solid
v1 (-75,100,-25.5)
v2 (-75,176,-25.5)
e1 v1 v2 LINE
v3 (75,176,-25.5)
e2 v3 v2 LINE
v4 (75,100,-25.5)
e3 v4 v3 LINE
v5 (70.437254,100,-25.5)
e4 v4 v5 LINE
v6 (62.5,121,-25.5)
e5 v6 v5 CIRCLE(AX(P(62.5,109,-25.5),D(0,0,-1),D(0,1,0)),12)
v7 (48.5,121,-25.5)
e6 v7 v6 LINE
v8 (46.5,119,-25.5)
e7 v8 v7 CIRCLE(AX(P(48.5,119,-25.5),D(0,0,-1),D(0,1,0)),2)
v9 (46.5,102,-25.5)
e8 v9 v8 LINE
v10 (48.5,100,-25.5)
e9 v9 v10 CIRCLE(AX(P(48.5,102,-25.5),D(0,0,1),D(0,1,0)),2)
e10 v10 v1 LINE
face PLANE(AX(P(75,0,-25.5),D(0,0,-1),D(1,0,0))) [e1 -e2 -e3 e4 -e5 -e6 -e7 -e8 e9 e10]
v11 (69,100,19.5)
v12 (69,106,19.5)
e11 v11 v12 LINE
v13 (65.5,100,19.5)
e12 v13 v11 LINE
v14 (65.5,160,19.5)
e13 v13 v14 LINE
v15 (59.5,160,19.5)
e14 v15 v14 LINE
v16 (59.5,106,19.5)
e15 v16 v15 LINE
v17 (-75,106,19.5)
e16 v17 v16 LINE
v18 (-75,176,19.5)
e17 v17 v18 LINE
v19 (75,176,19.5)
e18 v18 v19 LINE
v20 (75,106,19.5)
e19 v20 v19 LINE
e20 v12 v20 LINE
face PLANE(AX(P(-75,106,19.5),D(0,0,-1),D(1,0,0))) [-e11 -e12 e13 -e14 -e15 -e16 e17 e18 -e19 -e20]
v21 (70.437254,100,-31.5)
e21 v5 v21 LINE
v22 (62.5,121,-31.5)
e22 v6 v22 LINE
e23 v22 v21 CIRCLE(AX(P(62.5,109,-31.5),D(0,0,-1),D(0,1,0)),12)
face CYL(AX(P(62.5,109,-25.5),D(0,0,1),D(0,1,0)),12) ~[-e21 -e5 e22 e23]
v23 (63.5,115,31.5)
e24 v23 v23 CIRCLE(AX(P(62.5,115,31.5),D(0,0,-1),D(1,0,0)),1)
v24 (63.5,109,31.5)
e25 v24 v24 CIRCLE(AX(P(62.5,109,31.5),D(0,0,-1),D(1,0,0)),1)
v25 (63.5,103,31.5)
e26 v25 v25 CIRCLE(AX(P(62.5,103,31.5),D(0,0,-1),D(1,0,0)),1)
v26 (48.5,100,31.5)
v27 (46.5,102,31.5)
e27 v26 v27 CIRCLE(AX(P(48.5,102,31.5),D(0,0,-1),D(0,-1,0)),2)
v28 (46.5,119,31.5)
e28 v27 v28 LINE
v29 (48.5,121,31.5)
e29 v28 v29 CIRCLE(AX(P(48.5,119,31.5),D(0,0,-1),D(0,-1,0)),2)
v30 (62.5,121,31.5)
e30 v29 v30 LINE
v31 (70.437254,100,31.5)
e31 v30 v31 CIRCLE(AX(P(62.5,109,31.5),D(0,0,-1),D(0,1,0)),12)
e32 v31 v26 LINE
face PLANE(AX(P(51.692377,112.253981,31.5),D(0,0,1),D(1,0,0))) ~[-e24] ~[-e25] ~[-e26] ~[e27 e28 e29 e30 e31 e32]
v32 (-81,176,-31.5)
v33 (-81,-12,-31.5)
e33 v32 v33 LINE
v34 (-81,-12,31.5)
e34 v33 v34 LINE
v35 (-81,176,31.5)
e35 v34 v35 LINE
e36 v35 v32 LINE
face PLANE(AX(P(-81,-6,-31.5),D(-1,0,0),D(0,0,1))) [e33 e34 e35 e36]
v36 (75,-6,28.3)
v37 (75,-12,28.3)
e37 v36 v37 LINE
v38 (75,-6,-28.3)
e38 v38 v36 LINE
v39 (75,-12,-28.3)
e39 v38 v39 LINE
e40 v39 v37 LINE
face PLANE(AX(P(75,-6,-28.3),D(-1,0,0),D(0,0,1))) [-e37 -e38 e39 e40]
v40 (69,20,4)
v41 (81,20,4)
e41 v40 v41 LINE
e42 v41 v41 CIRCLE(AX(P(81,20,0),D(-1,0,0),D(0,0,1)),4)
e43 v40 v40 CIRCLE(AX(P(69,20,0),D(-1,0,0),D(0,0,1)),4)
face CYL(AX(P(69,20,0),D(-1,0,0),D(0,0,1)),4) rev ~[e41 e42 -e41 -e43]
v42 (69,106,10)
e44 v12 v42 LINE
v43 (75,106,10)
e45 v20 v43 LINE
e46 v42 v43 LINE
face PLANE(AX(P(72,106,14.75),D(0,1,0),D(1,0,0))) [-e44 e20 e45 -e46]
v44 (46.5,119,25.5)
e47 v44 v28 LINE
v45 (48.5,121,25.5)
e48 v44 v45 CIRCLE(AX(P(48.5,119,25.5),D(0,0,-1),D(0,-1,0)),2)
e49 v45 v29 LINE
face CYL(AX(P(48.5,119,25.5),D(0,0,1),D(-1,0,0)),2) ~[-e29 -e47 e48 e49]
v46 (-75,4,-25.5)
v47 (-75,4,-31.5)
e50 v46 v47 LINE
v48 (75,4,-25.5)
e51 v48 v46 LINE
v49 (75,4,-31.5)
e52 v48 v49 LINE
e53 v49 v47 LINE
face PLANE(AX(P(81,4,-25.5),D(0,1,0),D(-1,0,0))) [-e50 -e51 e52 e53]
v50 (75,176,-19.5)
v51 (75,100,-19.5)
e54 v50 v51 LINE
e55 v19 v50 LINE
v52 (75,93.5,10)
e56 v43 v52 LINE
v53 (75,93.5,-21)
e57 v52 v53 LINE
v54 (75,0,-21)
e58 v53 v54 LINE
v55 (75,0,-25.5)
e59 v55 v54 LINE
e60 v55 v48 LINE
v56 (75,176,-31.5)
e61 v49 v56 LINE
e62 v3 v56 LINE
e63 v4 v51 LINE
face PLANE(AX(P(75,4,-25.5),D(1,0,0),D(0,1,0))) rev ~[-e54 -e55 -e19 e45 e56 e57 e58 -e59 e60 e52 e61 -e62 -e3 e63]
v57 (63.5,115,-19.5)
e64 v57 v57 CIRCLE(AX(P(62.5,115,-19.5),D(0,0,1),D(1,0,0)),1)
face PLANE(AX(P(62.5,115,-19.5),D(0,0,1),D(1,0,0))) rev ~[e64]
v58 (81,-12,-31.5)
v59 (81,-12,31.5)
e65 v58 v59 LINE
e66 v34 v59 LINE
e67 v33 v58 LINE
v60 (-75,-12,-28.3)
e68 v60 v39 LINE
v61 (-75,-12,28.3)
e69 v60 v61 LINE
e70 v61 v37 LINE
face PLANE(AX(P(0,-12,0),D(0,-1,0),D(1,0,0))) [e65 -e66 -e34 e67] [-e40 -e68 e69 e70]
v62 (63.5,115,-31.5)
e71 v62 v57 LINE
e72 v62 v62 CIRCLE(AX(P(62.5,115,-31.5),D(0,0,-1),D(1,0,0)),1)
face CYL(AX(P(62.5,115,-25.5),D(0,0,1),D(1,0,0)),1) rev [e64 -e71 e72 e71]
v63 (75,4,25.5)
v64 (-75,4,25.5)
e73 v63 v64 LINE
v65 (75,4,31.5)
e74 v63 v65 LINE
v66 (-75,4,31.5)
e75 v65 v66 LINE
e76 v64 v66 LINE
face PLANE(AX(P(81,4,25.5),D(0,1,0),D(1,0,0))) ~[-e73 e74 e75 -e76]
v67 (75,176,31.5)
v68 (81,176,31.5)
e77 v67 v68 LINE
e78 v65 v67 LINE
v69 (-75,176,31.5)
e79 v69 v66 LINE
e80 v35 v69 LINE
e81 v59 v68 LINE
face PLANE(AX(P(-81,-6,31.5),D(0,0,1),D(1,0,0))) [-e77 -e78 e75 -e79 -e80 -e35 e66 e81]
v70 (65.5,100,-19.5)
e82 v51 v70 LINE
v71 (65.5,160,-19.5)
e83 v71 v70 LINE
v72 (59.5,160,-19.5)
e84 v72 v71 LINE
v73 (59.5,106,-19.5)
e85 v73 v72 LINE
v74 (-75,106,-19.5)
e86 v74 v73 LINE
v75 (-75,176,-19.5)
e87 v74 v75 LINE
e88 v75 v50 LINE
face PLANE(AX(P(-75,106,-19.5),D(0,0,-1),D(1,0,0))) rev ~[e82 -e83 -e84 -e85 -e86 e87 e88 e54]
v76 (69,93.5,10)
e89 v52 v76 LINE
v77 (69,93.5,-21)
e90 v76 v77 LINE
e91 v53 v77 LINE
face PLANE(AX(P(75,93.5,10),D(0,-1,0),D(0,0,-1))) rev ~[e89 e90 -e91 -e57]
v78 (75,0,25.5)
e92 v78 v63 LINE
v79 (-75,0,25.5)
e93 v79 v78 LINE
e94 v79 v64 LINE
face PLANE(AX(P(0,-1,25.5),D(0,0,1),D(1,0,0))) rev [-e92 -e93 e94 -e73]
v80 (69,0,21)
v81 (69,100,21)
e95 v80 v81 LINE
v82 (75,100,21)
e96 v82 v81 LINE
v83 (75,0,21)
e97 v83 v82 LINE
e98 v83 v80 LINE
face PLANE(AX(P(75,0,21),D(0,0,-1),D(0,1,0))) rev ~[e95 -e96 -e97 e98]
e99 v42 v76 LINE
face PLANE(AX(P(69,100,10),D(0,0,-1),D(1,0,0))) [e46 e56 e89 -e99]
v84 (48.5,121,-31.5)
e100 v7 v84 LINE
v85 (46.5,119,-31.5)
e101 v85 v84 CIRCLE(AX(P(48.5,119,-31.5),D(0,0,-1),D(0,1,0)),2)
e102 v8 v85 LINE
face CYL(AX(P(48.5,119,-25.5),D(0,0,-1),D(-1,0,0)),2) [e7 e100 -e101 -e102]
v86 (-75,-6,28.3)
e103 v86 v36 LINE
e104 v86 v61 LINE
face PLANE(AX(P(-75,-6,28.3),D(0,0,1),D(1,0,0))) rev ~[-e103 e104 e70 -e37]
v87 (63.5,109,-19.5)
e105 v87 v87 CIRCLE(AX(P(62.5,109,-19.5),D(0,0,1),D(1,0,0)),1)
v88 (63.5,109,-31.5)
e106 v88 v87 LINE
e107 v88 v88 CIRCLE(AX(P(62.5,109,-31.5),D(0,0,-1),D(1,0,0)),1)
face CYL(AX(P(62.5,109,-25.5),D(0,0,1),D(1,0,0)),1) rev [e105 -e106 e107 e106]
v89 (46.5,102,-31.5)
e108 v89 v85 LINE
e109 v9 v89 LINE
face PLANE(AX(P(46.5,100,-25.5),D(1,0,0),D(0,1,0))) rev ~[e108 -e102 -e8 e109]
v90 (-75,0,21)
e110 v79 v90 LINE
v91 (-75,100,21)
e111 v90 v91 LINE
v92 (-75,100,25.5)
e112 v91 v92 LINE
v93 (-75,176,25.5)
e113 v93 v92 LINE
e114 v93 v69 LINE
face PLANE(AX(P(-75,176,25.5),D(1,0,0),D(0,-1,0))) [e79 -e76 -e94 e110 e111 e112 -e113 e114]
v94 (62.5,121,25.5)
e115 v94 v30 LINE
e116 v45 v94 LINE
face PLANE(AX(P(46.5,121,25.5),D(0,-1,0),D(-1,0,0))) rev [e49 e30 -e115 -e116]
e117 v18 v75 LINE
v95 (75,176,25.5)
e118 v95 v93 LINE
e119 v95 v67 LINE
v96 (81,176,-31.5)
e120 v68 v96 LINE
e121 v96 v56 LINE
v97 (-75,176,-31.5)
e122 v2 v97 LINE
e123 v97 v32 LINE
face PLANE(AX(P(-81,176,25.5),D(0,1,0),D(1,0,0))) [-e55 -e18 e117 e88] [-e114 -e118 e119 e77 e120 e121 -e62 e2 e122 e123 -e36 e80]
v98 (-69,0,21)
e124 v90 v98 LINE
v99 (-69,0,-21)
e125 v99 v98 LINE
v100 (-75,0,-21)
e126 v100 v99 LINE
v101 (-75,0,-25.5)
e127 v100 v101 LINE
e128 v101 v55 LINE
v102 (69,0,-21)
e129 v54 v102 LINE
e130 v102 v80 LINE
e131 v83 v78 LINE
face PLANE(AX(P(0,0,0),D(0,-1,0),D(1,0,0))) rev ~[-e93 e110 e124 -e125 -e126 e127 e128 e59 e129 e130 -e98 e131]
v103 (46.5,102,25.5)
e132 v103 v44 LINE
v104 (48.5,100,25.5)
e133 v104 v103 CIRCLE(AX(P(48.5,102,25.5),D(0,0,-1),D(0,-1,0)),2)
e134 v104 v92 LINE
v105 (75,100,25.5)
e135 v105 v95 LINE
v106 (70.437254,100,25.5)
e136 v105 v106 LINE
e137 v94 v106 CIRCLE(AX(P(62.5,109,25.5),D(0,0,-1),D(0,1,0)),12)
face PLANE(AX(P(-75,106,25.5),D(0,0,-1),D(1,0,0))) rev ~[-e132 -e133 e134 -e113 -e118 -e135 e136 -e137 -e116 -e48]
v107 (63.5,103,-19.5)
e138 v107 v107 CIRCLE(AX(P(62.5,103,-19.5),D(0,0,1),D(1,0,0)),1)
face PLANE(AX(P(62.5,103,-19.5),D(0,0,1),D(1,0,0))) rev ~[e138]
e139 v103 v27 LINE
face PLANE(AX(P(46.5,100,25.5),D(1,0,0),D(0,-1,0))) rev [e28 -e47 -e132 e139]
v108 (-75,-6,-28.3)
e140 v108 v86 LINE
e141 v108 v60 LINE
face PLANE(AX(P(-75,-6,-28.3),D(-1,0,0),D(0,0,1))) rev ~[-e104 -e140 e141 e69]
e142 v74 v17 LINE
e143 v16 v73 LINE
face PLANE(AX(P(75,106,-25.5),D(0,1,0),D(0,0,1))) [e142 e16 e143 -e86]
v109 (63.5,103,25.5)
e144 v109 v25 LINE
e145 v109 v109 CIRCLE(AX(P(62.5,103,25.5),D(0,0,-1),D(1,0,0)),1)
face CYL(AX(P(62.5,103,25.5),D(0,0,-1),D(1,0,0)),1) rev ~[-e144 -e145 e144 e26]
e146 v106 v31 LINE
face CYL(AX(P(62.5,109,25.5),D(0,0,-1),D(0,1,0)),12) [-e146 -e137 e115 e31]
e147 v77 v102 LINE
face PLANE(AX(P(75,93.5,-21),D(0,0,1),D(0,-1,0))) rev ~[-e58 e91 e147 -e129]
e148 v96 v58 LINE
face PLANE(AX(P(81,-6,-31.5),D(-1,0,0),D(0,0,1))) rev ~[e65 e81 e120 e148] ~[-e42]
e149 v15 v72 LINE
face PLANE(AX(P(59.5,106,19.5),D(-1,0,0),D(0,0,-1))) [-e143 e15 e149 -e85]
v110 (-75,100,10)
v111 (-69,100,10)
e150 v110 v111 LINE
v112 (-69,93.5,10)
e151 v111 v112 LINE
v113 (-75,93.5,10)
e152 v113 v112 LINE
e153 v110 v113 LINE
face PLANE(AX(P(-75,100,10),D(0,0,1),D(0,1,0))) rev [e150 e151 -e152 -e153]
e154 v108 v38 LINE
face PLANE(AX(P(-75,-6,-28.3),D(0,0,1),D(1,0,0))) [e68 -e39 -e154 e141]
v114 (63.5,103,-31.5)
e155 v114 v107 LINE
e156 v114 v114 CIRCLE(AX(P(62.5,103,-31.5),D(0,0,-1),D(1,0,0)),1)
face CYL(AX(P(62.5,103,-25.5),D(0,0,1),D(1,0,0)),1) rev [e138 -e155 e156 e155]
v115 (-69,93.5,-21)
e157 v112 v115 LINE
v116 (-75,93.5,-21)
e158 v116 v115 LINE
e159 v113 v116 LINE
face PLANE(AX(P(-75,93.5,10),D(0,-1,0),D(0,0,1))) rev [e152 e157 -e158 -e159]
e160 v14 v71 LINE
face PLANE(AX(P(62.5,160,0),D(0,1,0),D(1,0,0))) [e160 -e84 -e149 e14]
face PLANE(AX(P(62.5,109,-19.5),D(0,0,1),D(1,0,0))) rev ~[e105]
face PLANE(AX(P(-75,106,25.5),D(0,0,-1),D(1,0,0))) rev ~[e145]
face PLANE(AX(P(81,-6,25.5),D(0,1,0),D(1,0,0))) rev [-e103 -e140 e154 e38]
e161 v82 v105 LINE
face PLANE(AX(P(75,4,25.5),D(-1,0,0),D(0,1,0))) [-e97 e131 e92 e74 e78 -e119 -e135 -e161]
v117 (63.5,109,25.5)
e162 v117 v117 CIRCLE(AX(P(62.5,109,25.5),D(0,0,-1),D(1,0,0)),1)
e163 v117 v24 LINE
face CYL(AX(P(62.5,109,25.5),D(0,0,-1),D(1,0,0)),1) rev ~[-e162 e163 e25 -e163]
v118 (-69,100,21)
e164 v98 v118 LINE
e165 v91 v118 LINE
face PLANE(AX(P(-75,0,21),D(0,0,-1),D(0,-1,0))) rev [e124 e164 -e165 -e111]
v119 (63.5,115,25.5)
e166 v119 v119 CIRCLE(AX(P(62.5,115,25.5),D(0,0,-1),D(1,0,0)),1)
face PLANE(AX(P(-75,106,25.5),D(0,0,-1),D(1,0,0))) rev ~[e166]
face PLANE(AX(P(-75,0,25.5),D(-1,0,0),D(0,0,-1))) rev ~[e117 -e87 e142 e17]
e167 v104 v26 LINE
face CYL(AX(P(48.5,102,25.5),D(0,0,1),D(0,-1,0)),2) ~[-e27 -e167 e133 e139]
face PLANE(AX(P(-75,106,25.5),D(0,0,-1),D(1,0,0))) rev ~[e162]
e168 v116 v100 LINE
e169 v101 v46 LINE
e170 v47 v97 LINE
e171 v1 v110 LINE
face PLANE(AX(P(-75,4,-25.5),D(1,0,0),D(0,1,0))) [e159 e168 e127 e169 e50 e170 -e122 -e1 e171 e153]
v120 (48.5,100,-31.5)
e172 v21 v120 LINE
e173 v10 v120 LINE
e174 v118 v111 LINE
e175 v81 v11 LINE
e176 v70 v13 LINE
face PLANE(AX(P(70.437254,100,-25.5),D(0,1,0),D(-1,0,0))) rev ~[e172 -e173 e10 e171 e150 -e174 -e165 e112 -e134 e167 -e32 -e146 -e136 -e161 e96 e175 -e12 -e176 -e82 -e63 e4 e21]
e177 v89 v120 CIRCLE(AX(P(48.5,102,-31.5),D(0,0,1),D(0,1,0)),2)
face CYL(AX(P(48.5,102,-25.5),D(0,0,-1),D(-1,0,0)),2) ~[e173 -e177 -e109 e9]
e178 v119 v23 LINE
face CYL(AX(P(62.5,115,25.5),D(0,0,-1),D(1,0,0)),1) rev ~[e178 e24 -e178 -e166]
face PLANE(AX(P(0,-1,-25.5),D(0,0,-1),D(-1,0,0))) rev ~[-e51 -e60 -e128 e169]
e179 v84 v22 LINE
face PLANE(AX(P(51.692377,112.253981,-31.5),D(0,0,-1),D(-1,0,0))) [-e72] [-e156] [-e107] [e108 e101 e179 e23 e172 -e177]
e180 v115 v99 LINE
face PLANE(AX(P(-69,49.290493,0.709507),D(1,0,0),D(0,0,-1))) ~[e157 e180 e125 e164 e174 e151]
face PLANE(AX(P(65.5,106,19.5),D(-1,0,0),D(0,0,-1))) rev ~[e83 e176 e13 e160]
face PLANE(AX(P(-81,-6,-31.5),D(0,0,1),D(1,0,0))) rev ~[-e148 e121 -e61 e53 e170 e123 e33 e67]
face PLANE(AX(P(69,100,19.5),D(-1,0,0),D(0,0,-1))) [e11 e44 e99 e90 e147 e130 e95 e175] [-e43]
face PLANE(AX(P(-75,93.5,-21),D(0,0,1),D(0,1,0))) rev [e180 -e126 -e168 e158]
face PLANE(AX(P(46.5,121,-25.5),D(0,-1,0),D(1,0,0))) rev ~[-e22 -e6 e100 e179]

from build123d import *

# Parameters (mm, degrees)
SKETCH1_W            = 150
SKETCH1_H            = 42
BOSS_EXTRUDE1_DEPTH  = 3.2
SKETCH2_W            = 162
SKETCH2_H            = 51
BOSS_EXTRUDE2_DEPTH  = 6
SKETCH3_W            = 6
SKETCH3_H            = 51
BOSS_EXTRUDE3_DEPTH  = 176
BOSS_EXTRUDE4_REACH  = 238.563
SKETCH5_W            = 51
SKETCH5_H            = 6
BOSS_EXTRUDE5_START  = 100
SKETCH1_2_W          = 150
SKETCH1_2_H          = 42
BOSS_EXTRUDE5_DEPTH  = 3.2
SKETCH6_W            = 150
SKETCH6_H            = 6
BOSS_EXTRUDE6_DEPTH  = 70
CUT_EXTRUDE1_REACH   = 142.553
SKETCH7_W            = 9.5
SKETCH7_H            = 39
SKETCH7_R            = 2.75
SKETCH7_3_W          = 6
SKETCH7_3_H          = 39
BOSS_EXTRUDE7_DEPTH  = 54
SKETCH8_W            = 162
SKETCH8_H            = 10
BOSS_EXTRUDE8_DEPTH  = 6
SKETCH9_W            = 150
SKETCH9_H            = 42
CUT_EXTRUDE2_DEPTH   = 3.2
CUT_EXTRUDE3_DEPTH   = 3.2
BOSS_EXTRUDE9_DEPTH  = 6
SKETCH12_W           = 6
SKETCH12_H           = 9.5
BOSS_EXTRUDE10_DEPTH = 6
CUT_EXTRUDE4_REACH   = 235.384
SKETCH13_R           = 4
CUT_EXTRUDE5_REACH   = 202.345
SKETCH14_R           = 1
SKETCH16_W           = 6
SKETCH16_H           = 172
BOSS_EXTRUDE11_DEPTH = 6
BOSS_EXTRUDE15_START = -51
BOSS_EXTRUDE15_DEPTH = 6
SKETCH17_W           = 162
SKETCH17_H           = 63
SKETCH17_W_2         = 150
SKETCH17_H_2         = 56.6
BOSS_EXTRUDE12_DEPTH = 6
SKETCH15_R           = 1
BOSS_EXTRUDE14_DEPTH = 6
FILLET1_R            = 2
FILLET1_OF_MIRROR4_R = 2


with BuildPart() as part:
    # Sketch1 → Boss-Extrude1 (new body)
    with BuildSketch(Plane(origin=(0, 0, 0), x_dir=(1, 0, 0), z_dir=(0, 1, 0))):
        Rectangle(SKETCH1_W, SKETCH1_H)
    extrude(amount=BOSS_EXTRUDE1_DEPTH)

    # Sketch2 → Boss-Extrude2 (add)
    with BuildSketch(Plane.XZ):
        Rectangle(SKETCH2_W, SKETCH2_H)
    extrude(amount=BOSS_EXTRUDE2_DEPTH)

    # Sketch3 → Boss-Extrude3 (add)
    with BuildSketch(Plane(origin=(0, 0, 0), x_dir=(1, 0, 0), z_dir=(0, 1, 0))):
        with Locations((78, 0)):
            Rectangle(SKETCH3_W, SKETCH3_H)
        with Locations((-78, 0)):
            Rectangle(SKETCH3_W, SKETCH3_H)
    extrude(amount=BOSS_EXTRUDE3_DEPTH)

    # Sketch5 → Boss-Extrude4 (add, up to next)
    with BuildSketch(Plane.ZY.offset(-75), mode=Mode.PRIVATE) as boss_extrude4_sk1:
        with Locations((0, 103)):
            Rectangle(SKETCH5_W, SKETCH5_H)
    boss_extrude4_tool1 = extrude(boss_extrude4_sk1.sketch, amount=BOSS_EXTRUDE4_REACH, mode=Mode.PRIVATE) - part.part
    add(boss_extrude4_tool1.solids().sort_by_distance((75, 103, 0))[0])

    # Sketch1<2> → Boss-Extrude5 (add)
    with BuildSketch(Plane(origin=(0, 0, 0), x_dir=(1, 0, 0), z_dir=(0, 1, 0)).offset(BOSS_EXTRUDE5_START)):
        Rectangle(SKETCH1_2_W, SKETCH1_2_H)
    extrude(amount=-BOSS_EXTRUDE5_DEPTH)

    # Sketch6 → Boss-Extrude6 (add)
    with BuildSketch(Plane(origin=(0, 106, 0), x_dir=(1, 0, 0), z_dir=(0, 1, 0))):
        with Locations((0, -22.5)):
            Rectangle(SKETCH6_W, SKETCH6_H)
        with Locations((0, 22.5)):
            Rectangle(SKETCH6_W, SKETCH6_H)
    extrude(amount=BOSS_EXTRUDE6_DEPTH)

    # Sketch7 → Cut-Extrude1 (cut, up to next)
    with BuildSketch(Plane(origin=(0, 106, 0), x_dir=(1, 0, 0), z_dir=(0, 1, 0)), mode=Mode.PRIVATE) as cut_extrude1_sk1:
        with Locations((70.25, 0)):
            Rectangle(SKETCH7_W, SKETCH7_H)
        with Locations((70.25, -14.75)):
            Circle(SKETCH7_R, mode=Mode.SUBTRACT)
        with Locations((70.25, 14.75)):
            Circle(SKETCH7_R, mode=Mode.SUBTRACT)
    cut_extrude1_tool1 = extrude(cut_extrude1_sk1.sketch, amount=-CUT_EXTRUDE1_REACH, mode=Mode.PRIVATE) & part.part
    # Sketch7 → Cut-Extrude1 (cut, up to next)
    with BuildSketch(Plane(origin=(0, 106, 0), x_dir=(1, 0, 0), z_dir=(0, 1, 0)), mode=Mode.PRIVATE) as cut_extrude1_sk2:
        with Locations((70.25, -14.75)):
            Circle(SKETCH7_R)
    cut_extrude1_tool2 = extrude(cut_extrude1_sk2.sketch, amount=-CUT_EXTRUDE1_REACH, mode=Mode.PRIVATE) & part.part
    # Sketch7 → Cut-Extrude1 (cut, up to next)
    with BuildSketch(Plane(origin=(0, 106, 0), x_dir=(1, 0, 0), z_dir=(0, 1, 0)), mode=Mode.PRIVATE) as cut_extrude1_sk3:
        with Locations((70.25, 14.75)):
            Circle(SKETCH7_R)
    cut_extrude1_tool3 = extrude(cut_extrude1_sk3.sketch, amount=-CUT_EXTRUDE1_REACH, mode=Mode.PRIVATE) & part.part
    add(cut_extrude1_tool1.solids().sort_by_distance((70.25, 106, 0))[0], mode=Mode.SUBTRACT)
    add(cut_extrude1_tool2.solids().sort_by_distance((70.25, 106, 14.75))[0], mode=Mode.SUBTRACT)
    add(cut_extrude1_tool3.solids().sort_by_distance((70.25, 106, -14.75))[0], mode=Mode.SUBTRACT)

    # Sketch7<3> → Boss-Extrude7 (add)
    with BuildSketch(Plane(origin=(0, 106, 0), x_dir=(1, 0, 0), z_dir=(0, 1, 0))):
        with Locations((62.5, 0)):
            Rectangle(SKETCH7_3_W, SKETCH7_3_H)
    extrude(amount=BOSS_EXTRUDE7_DEPTH)

    # Sketch8 → Boss-Extrude8 (add)
    with BuildSketch(Plane(origin=(0, 0, -25.5), x_dir=(-1, 0, 0), z_dir=(0, 0, -1))):
        with Locations((0, -1)):
            Rectangle(SKETCH8_W, SKETCH8_H)
    boss_extrude8 = extrude(amount=BOSS_EXTRUDE8_DEPTH)

    # Mirror1: Boss-Extrude8 across plane
    add(boss_extrude8.mirror(Plane.XY))

    # Sketch9 → Cut-Extrude2 (cut)
    with BuildSketch(Plane(origin=(0, 3.2, 0), x_dir=(1, 0, 0), z_dir=(0, 1, 0))):
        Rectangle(SKETCH9_W, SKETCH9_H)
    extrude(amount=-CUT_EXTRUDE2_DEPTH, mode=Mode.SUBTRACT)

    # Sketch10 → Cut-Extrude3 (cut)
    with BuildSketch(Plane.XZ.offset(-96.8)):
        Polygon((-75, -21), (75, -21), (75, -19.5), (65.5, -19.5), (65.5, 19.5), (75, 19.5), (75, 21), (-75, 21), align=None)
    extrude(amount=-CUT_EXTRUDE3_DEPTH, mode=Mode.SUBTRACT)

    # Sketch11 → Boss-Extrude9 (add)
    with BuildSketch(Plane.ZY.offset(-75)):
        Polygon((10, 93.5), (-21, 93.5), (-21, 0), (21, 0), (21, 100), (10, 100), align=None)
    boss_extrude9 = extrude(amount=BOSS_EXTRUDE9_DEPTH)

    # Mirror2: Boss-Extrude9 across plane
    add(boss_extrude9.mirror(Plane(origin=(0, 0, 0), x_dir=(0, 0, 1), z_dir=(1, 0, 0))))

    # Sketch12 → Boss-Extrude10 (add)
    with BuildSketch(Plane(origin=(0, 100, 0), x_dir=(1, 0, 0), z_dir=(0, 1, 0))):
        with Locations((72, -14.75)):
            Rectangle(SKETCH12_W, SKETCH12_H)
    extrude(amount=BOSS_EXTRUDE10_DEPTH)

    # Sketch13 → Cut-Extrude4 (cut, up to next)
    with BuildSketch(Plane.ZY.offset(-69), mode=Mode.PRIVATE) as cut_extrude4_sk1:
        with Locations((0, 20)):
            Circle(SKETCH13_R)
    cut_extrude4_tool1 = extrude(cut_extrude4_sk1.sketch, amount=-CUT_EXTRUDE4_REACH, mode=Mode.PRIVATE) & part.part
    add(cut_extrude4_tool1.solids().sort_by_distance((69, 20, 0))[0], mode=Mode.SUBTRACT)

    # Sketch14 → Cut-Extrude5 (cut, up to next)
    with BuildSketch(Plane.XY.offset(-19.5), mode=Mode.PRIVATE) as cut_extrude5_sk1:
        with Locations((62.5, 103)):
            Circle(SKETCH14_R)
    cut_extrude5_tool1 = extrude(cut_extrude5_sk1.sketch, amount=-CUT_EXTRUDE5_REACH, mode=Mode.PRIVATE) & part.part
    # Sketch14 → Cut-Extrude5 (cut, up to next)
    with BuildSketch(Plane.XY.offset(-19.5), mode=Mode.PRIVATE) as cut_extrude5_sk2:
        with Locations((62.5, 109)):
            Circle(SKETCH14_R)
    cut_extrude5_tool2 = extrude(cut_extrude5_sk2.sketch, amount=-CUT_EXTRUDE5_REACH, mode=Mode.PRIVATE) & part.part
    # Sketch14 → Cut-Extrude5 (cut, up to next)
    with BuildSketch(Plane.XY.offset(-19.5), mode=Mode.PRIVATE) as cut_extrude5_sk3:
        with Locations((62.5, 115)):
            Circle(SKETCH14_R)
    cut_extrude5_tool3 = extrude(cut_extrude5_sk3.sketch, amount=-CUT_EXTRUDE5_REACH, mode=Mode.PRIVATE) & part.part
    add(cut_extrude5_tool1.solids().sort_by_distance((62.5, 103, -19.5))[0], mode=Mode.SUBTRACT)
    add(cut_extrude5_tool2.solids().sort_by_distance((62.5, 109, -19.5))[0], mode=Mode.SUBTRACT)
    add(cut_extrude5_tool3.solids().sort_by_distance((62.5, 115, -19.5))[0], mode=Mode.SUBTRACT)

    # Sketch16 → Boss-Extrude11 (add)
    with BuildSketch(Plane(origin=(0, 0, -25.5), x_dir=(-1, 0, 0), z_dir=(0, 0, -1))):
        with Locations((78, 90)):
            Rectangle(SKETCH16_W, SKETCH16_H)
        with Locations((-78, 90)):
            Rectangle(SKETCH16_W, SKETCH16_H)
    extrude(amount=BOSS_EXTRUDE11_DEPTH)

    # Sketch16<2> → Boss-Extrude15 (add)
    with BuildSketch(Plane(origin=(0, 0, -25.5), x_dir=(-1, 0, 0), z_dir=(0, 0, -1)).offset(BOSS_EXTRUDE15_START)):
        Polygon((75, 100), (75, 4), (81, 4), (81, 176), (75, 176), align=None)
        Polygon((-75, 4), (-75, 100), (-75, 176), (-81, 176), (-81, 4), align=None)
    extrude(amount=-BOSS_EXTRUDE15_DEPTH)

    # Sketch17 → Boss-Extrude12 (add)
    with BuildSketch(Plane.XZ.offset(6)):
        Rectangle(SKETCH17_W, SKETCH17_H)
        Rectangle(SKETCH17_W_2, SKETCH17_H_2, mode=Mode.SUBTRACT)
    extrude(amount=BOSS_EXTRUDE12_DEPTH)

    # Sketch15 → Boss-Extrude14 (add)
    with BuildSketch(Plane(origin=(0, 0, -25.5), x_dir=(-1, 0, 0), z_dir=(0, 0, -1))):
        with BuildLine():
            ThreePointArc((-62.5, 121), (-51.27502784, 113.242640687), (-54.562746067, 100))
            Line((-54.562746067, 100), (-46.5, 100))
            Line((-46.5, 100), (-46.5, 121))
            Line((-46.5, 121), (-62.5, 121))
        make_face()
        with BuildLine():
            ThreePointArc((-62.5, 121), (-73.72497216, 113.242640687), (-70.437253933, 100))
            Line((-70.437253933, 100), (-54.562746067, 100))
            ThreePointArc((-54.562746067, 100), (-51.27502784, 113.242640687), (-62.5, 121))
        make_face()
        with Locations(Location((-62.5, 103, 0), (0, 0, 180))):
            Circle(SKETCH15_R, mode=Mode.SUBTRACT)
        with Locations(Location((-62.5, 109, 0), (0, 0, 180))):
            Circle(SKETCH15_R, mode=Mode.SUBTRACT)
        with Locations(Location((-62.5, 115, 0), (0, 0, 180))):
            Circle(SKETCH15_R, mode=Mode.SUBTRACT)
    boss_extrude14 = extrude(amount=BOSS_EXTRUDE14_DEPTH)

    # Fillet1
    fillet1_edges = [part.edges().sort_by_distance(p)[0] for p in [
        (46.5, 121, -28.5),
        (46.5, 100, -28.5),
    ]]
    fillet(fillet1_edges, radius=FILLET1_R)

    # Mirror4: Boss-Extrude14 across plane
    add(boss_extrude14.mirror(Plane.XY))

    # Fillet1 of Mirror4
    fillet1_of_mirror4_edges = [part.edges().sort_by_distance(p)[0] for p in [
        (46.5, 121, 28.5),
        (46.5, 100, 28.5),
    ]]
    fillet(fillet1_of_mirror4_edges, radius=FILLET1_OF_MIRROR4_R)


solid = part.part
